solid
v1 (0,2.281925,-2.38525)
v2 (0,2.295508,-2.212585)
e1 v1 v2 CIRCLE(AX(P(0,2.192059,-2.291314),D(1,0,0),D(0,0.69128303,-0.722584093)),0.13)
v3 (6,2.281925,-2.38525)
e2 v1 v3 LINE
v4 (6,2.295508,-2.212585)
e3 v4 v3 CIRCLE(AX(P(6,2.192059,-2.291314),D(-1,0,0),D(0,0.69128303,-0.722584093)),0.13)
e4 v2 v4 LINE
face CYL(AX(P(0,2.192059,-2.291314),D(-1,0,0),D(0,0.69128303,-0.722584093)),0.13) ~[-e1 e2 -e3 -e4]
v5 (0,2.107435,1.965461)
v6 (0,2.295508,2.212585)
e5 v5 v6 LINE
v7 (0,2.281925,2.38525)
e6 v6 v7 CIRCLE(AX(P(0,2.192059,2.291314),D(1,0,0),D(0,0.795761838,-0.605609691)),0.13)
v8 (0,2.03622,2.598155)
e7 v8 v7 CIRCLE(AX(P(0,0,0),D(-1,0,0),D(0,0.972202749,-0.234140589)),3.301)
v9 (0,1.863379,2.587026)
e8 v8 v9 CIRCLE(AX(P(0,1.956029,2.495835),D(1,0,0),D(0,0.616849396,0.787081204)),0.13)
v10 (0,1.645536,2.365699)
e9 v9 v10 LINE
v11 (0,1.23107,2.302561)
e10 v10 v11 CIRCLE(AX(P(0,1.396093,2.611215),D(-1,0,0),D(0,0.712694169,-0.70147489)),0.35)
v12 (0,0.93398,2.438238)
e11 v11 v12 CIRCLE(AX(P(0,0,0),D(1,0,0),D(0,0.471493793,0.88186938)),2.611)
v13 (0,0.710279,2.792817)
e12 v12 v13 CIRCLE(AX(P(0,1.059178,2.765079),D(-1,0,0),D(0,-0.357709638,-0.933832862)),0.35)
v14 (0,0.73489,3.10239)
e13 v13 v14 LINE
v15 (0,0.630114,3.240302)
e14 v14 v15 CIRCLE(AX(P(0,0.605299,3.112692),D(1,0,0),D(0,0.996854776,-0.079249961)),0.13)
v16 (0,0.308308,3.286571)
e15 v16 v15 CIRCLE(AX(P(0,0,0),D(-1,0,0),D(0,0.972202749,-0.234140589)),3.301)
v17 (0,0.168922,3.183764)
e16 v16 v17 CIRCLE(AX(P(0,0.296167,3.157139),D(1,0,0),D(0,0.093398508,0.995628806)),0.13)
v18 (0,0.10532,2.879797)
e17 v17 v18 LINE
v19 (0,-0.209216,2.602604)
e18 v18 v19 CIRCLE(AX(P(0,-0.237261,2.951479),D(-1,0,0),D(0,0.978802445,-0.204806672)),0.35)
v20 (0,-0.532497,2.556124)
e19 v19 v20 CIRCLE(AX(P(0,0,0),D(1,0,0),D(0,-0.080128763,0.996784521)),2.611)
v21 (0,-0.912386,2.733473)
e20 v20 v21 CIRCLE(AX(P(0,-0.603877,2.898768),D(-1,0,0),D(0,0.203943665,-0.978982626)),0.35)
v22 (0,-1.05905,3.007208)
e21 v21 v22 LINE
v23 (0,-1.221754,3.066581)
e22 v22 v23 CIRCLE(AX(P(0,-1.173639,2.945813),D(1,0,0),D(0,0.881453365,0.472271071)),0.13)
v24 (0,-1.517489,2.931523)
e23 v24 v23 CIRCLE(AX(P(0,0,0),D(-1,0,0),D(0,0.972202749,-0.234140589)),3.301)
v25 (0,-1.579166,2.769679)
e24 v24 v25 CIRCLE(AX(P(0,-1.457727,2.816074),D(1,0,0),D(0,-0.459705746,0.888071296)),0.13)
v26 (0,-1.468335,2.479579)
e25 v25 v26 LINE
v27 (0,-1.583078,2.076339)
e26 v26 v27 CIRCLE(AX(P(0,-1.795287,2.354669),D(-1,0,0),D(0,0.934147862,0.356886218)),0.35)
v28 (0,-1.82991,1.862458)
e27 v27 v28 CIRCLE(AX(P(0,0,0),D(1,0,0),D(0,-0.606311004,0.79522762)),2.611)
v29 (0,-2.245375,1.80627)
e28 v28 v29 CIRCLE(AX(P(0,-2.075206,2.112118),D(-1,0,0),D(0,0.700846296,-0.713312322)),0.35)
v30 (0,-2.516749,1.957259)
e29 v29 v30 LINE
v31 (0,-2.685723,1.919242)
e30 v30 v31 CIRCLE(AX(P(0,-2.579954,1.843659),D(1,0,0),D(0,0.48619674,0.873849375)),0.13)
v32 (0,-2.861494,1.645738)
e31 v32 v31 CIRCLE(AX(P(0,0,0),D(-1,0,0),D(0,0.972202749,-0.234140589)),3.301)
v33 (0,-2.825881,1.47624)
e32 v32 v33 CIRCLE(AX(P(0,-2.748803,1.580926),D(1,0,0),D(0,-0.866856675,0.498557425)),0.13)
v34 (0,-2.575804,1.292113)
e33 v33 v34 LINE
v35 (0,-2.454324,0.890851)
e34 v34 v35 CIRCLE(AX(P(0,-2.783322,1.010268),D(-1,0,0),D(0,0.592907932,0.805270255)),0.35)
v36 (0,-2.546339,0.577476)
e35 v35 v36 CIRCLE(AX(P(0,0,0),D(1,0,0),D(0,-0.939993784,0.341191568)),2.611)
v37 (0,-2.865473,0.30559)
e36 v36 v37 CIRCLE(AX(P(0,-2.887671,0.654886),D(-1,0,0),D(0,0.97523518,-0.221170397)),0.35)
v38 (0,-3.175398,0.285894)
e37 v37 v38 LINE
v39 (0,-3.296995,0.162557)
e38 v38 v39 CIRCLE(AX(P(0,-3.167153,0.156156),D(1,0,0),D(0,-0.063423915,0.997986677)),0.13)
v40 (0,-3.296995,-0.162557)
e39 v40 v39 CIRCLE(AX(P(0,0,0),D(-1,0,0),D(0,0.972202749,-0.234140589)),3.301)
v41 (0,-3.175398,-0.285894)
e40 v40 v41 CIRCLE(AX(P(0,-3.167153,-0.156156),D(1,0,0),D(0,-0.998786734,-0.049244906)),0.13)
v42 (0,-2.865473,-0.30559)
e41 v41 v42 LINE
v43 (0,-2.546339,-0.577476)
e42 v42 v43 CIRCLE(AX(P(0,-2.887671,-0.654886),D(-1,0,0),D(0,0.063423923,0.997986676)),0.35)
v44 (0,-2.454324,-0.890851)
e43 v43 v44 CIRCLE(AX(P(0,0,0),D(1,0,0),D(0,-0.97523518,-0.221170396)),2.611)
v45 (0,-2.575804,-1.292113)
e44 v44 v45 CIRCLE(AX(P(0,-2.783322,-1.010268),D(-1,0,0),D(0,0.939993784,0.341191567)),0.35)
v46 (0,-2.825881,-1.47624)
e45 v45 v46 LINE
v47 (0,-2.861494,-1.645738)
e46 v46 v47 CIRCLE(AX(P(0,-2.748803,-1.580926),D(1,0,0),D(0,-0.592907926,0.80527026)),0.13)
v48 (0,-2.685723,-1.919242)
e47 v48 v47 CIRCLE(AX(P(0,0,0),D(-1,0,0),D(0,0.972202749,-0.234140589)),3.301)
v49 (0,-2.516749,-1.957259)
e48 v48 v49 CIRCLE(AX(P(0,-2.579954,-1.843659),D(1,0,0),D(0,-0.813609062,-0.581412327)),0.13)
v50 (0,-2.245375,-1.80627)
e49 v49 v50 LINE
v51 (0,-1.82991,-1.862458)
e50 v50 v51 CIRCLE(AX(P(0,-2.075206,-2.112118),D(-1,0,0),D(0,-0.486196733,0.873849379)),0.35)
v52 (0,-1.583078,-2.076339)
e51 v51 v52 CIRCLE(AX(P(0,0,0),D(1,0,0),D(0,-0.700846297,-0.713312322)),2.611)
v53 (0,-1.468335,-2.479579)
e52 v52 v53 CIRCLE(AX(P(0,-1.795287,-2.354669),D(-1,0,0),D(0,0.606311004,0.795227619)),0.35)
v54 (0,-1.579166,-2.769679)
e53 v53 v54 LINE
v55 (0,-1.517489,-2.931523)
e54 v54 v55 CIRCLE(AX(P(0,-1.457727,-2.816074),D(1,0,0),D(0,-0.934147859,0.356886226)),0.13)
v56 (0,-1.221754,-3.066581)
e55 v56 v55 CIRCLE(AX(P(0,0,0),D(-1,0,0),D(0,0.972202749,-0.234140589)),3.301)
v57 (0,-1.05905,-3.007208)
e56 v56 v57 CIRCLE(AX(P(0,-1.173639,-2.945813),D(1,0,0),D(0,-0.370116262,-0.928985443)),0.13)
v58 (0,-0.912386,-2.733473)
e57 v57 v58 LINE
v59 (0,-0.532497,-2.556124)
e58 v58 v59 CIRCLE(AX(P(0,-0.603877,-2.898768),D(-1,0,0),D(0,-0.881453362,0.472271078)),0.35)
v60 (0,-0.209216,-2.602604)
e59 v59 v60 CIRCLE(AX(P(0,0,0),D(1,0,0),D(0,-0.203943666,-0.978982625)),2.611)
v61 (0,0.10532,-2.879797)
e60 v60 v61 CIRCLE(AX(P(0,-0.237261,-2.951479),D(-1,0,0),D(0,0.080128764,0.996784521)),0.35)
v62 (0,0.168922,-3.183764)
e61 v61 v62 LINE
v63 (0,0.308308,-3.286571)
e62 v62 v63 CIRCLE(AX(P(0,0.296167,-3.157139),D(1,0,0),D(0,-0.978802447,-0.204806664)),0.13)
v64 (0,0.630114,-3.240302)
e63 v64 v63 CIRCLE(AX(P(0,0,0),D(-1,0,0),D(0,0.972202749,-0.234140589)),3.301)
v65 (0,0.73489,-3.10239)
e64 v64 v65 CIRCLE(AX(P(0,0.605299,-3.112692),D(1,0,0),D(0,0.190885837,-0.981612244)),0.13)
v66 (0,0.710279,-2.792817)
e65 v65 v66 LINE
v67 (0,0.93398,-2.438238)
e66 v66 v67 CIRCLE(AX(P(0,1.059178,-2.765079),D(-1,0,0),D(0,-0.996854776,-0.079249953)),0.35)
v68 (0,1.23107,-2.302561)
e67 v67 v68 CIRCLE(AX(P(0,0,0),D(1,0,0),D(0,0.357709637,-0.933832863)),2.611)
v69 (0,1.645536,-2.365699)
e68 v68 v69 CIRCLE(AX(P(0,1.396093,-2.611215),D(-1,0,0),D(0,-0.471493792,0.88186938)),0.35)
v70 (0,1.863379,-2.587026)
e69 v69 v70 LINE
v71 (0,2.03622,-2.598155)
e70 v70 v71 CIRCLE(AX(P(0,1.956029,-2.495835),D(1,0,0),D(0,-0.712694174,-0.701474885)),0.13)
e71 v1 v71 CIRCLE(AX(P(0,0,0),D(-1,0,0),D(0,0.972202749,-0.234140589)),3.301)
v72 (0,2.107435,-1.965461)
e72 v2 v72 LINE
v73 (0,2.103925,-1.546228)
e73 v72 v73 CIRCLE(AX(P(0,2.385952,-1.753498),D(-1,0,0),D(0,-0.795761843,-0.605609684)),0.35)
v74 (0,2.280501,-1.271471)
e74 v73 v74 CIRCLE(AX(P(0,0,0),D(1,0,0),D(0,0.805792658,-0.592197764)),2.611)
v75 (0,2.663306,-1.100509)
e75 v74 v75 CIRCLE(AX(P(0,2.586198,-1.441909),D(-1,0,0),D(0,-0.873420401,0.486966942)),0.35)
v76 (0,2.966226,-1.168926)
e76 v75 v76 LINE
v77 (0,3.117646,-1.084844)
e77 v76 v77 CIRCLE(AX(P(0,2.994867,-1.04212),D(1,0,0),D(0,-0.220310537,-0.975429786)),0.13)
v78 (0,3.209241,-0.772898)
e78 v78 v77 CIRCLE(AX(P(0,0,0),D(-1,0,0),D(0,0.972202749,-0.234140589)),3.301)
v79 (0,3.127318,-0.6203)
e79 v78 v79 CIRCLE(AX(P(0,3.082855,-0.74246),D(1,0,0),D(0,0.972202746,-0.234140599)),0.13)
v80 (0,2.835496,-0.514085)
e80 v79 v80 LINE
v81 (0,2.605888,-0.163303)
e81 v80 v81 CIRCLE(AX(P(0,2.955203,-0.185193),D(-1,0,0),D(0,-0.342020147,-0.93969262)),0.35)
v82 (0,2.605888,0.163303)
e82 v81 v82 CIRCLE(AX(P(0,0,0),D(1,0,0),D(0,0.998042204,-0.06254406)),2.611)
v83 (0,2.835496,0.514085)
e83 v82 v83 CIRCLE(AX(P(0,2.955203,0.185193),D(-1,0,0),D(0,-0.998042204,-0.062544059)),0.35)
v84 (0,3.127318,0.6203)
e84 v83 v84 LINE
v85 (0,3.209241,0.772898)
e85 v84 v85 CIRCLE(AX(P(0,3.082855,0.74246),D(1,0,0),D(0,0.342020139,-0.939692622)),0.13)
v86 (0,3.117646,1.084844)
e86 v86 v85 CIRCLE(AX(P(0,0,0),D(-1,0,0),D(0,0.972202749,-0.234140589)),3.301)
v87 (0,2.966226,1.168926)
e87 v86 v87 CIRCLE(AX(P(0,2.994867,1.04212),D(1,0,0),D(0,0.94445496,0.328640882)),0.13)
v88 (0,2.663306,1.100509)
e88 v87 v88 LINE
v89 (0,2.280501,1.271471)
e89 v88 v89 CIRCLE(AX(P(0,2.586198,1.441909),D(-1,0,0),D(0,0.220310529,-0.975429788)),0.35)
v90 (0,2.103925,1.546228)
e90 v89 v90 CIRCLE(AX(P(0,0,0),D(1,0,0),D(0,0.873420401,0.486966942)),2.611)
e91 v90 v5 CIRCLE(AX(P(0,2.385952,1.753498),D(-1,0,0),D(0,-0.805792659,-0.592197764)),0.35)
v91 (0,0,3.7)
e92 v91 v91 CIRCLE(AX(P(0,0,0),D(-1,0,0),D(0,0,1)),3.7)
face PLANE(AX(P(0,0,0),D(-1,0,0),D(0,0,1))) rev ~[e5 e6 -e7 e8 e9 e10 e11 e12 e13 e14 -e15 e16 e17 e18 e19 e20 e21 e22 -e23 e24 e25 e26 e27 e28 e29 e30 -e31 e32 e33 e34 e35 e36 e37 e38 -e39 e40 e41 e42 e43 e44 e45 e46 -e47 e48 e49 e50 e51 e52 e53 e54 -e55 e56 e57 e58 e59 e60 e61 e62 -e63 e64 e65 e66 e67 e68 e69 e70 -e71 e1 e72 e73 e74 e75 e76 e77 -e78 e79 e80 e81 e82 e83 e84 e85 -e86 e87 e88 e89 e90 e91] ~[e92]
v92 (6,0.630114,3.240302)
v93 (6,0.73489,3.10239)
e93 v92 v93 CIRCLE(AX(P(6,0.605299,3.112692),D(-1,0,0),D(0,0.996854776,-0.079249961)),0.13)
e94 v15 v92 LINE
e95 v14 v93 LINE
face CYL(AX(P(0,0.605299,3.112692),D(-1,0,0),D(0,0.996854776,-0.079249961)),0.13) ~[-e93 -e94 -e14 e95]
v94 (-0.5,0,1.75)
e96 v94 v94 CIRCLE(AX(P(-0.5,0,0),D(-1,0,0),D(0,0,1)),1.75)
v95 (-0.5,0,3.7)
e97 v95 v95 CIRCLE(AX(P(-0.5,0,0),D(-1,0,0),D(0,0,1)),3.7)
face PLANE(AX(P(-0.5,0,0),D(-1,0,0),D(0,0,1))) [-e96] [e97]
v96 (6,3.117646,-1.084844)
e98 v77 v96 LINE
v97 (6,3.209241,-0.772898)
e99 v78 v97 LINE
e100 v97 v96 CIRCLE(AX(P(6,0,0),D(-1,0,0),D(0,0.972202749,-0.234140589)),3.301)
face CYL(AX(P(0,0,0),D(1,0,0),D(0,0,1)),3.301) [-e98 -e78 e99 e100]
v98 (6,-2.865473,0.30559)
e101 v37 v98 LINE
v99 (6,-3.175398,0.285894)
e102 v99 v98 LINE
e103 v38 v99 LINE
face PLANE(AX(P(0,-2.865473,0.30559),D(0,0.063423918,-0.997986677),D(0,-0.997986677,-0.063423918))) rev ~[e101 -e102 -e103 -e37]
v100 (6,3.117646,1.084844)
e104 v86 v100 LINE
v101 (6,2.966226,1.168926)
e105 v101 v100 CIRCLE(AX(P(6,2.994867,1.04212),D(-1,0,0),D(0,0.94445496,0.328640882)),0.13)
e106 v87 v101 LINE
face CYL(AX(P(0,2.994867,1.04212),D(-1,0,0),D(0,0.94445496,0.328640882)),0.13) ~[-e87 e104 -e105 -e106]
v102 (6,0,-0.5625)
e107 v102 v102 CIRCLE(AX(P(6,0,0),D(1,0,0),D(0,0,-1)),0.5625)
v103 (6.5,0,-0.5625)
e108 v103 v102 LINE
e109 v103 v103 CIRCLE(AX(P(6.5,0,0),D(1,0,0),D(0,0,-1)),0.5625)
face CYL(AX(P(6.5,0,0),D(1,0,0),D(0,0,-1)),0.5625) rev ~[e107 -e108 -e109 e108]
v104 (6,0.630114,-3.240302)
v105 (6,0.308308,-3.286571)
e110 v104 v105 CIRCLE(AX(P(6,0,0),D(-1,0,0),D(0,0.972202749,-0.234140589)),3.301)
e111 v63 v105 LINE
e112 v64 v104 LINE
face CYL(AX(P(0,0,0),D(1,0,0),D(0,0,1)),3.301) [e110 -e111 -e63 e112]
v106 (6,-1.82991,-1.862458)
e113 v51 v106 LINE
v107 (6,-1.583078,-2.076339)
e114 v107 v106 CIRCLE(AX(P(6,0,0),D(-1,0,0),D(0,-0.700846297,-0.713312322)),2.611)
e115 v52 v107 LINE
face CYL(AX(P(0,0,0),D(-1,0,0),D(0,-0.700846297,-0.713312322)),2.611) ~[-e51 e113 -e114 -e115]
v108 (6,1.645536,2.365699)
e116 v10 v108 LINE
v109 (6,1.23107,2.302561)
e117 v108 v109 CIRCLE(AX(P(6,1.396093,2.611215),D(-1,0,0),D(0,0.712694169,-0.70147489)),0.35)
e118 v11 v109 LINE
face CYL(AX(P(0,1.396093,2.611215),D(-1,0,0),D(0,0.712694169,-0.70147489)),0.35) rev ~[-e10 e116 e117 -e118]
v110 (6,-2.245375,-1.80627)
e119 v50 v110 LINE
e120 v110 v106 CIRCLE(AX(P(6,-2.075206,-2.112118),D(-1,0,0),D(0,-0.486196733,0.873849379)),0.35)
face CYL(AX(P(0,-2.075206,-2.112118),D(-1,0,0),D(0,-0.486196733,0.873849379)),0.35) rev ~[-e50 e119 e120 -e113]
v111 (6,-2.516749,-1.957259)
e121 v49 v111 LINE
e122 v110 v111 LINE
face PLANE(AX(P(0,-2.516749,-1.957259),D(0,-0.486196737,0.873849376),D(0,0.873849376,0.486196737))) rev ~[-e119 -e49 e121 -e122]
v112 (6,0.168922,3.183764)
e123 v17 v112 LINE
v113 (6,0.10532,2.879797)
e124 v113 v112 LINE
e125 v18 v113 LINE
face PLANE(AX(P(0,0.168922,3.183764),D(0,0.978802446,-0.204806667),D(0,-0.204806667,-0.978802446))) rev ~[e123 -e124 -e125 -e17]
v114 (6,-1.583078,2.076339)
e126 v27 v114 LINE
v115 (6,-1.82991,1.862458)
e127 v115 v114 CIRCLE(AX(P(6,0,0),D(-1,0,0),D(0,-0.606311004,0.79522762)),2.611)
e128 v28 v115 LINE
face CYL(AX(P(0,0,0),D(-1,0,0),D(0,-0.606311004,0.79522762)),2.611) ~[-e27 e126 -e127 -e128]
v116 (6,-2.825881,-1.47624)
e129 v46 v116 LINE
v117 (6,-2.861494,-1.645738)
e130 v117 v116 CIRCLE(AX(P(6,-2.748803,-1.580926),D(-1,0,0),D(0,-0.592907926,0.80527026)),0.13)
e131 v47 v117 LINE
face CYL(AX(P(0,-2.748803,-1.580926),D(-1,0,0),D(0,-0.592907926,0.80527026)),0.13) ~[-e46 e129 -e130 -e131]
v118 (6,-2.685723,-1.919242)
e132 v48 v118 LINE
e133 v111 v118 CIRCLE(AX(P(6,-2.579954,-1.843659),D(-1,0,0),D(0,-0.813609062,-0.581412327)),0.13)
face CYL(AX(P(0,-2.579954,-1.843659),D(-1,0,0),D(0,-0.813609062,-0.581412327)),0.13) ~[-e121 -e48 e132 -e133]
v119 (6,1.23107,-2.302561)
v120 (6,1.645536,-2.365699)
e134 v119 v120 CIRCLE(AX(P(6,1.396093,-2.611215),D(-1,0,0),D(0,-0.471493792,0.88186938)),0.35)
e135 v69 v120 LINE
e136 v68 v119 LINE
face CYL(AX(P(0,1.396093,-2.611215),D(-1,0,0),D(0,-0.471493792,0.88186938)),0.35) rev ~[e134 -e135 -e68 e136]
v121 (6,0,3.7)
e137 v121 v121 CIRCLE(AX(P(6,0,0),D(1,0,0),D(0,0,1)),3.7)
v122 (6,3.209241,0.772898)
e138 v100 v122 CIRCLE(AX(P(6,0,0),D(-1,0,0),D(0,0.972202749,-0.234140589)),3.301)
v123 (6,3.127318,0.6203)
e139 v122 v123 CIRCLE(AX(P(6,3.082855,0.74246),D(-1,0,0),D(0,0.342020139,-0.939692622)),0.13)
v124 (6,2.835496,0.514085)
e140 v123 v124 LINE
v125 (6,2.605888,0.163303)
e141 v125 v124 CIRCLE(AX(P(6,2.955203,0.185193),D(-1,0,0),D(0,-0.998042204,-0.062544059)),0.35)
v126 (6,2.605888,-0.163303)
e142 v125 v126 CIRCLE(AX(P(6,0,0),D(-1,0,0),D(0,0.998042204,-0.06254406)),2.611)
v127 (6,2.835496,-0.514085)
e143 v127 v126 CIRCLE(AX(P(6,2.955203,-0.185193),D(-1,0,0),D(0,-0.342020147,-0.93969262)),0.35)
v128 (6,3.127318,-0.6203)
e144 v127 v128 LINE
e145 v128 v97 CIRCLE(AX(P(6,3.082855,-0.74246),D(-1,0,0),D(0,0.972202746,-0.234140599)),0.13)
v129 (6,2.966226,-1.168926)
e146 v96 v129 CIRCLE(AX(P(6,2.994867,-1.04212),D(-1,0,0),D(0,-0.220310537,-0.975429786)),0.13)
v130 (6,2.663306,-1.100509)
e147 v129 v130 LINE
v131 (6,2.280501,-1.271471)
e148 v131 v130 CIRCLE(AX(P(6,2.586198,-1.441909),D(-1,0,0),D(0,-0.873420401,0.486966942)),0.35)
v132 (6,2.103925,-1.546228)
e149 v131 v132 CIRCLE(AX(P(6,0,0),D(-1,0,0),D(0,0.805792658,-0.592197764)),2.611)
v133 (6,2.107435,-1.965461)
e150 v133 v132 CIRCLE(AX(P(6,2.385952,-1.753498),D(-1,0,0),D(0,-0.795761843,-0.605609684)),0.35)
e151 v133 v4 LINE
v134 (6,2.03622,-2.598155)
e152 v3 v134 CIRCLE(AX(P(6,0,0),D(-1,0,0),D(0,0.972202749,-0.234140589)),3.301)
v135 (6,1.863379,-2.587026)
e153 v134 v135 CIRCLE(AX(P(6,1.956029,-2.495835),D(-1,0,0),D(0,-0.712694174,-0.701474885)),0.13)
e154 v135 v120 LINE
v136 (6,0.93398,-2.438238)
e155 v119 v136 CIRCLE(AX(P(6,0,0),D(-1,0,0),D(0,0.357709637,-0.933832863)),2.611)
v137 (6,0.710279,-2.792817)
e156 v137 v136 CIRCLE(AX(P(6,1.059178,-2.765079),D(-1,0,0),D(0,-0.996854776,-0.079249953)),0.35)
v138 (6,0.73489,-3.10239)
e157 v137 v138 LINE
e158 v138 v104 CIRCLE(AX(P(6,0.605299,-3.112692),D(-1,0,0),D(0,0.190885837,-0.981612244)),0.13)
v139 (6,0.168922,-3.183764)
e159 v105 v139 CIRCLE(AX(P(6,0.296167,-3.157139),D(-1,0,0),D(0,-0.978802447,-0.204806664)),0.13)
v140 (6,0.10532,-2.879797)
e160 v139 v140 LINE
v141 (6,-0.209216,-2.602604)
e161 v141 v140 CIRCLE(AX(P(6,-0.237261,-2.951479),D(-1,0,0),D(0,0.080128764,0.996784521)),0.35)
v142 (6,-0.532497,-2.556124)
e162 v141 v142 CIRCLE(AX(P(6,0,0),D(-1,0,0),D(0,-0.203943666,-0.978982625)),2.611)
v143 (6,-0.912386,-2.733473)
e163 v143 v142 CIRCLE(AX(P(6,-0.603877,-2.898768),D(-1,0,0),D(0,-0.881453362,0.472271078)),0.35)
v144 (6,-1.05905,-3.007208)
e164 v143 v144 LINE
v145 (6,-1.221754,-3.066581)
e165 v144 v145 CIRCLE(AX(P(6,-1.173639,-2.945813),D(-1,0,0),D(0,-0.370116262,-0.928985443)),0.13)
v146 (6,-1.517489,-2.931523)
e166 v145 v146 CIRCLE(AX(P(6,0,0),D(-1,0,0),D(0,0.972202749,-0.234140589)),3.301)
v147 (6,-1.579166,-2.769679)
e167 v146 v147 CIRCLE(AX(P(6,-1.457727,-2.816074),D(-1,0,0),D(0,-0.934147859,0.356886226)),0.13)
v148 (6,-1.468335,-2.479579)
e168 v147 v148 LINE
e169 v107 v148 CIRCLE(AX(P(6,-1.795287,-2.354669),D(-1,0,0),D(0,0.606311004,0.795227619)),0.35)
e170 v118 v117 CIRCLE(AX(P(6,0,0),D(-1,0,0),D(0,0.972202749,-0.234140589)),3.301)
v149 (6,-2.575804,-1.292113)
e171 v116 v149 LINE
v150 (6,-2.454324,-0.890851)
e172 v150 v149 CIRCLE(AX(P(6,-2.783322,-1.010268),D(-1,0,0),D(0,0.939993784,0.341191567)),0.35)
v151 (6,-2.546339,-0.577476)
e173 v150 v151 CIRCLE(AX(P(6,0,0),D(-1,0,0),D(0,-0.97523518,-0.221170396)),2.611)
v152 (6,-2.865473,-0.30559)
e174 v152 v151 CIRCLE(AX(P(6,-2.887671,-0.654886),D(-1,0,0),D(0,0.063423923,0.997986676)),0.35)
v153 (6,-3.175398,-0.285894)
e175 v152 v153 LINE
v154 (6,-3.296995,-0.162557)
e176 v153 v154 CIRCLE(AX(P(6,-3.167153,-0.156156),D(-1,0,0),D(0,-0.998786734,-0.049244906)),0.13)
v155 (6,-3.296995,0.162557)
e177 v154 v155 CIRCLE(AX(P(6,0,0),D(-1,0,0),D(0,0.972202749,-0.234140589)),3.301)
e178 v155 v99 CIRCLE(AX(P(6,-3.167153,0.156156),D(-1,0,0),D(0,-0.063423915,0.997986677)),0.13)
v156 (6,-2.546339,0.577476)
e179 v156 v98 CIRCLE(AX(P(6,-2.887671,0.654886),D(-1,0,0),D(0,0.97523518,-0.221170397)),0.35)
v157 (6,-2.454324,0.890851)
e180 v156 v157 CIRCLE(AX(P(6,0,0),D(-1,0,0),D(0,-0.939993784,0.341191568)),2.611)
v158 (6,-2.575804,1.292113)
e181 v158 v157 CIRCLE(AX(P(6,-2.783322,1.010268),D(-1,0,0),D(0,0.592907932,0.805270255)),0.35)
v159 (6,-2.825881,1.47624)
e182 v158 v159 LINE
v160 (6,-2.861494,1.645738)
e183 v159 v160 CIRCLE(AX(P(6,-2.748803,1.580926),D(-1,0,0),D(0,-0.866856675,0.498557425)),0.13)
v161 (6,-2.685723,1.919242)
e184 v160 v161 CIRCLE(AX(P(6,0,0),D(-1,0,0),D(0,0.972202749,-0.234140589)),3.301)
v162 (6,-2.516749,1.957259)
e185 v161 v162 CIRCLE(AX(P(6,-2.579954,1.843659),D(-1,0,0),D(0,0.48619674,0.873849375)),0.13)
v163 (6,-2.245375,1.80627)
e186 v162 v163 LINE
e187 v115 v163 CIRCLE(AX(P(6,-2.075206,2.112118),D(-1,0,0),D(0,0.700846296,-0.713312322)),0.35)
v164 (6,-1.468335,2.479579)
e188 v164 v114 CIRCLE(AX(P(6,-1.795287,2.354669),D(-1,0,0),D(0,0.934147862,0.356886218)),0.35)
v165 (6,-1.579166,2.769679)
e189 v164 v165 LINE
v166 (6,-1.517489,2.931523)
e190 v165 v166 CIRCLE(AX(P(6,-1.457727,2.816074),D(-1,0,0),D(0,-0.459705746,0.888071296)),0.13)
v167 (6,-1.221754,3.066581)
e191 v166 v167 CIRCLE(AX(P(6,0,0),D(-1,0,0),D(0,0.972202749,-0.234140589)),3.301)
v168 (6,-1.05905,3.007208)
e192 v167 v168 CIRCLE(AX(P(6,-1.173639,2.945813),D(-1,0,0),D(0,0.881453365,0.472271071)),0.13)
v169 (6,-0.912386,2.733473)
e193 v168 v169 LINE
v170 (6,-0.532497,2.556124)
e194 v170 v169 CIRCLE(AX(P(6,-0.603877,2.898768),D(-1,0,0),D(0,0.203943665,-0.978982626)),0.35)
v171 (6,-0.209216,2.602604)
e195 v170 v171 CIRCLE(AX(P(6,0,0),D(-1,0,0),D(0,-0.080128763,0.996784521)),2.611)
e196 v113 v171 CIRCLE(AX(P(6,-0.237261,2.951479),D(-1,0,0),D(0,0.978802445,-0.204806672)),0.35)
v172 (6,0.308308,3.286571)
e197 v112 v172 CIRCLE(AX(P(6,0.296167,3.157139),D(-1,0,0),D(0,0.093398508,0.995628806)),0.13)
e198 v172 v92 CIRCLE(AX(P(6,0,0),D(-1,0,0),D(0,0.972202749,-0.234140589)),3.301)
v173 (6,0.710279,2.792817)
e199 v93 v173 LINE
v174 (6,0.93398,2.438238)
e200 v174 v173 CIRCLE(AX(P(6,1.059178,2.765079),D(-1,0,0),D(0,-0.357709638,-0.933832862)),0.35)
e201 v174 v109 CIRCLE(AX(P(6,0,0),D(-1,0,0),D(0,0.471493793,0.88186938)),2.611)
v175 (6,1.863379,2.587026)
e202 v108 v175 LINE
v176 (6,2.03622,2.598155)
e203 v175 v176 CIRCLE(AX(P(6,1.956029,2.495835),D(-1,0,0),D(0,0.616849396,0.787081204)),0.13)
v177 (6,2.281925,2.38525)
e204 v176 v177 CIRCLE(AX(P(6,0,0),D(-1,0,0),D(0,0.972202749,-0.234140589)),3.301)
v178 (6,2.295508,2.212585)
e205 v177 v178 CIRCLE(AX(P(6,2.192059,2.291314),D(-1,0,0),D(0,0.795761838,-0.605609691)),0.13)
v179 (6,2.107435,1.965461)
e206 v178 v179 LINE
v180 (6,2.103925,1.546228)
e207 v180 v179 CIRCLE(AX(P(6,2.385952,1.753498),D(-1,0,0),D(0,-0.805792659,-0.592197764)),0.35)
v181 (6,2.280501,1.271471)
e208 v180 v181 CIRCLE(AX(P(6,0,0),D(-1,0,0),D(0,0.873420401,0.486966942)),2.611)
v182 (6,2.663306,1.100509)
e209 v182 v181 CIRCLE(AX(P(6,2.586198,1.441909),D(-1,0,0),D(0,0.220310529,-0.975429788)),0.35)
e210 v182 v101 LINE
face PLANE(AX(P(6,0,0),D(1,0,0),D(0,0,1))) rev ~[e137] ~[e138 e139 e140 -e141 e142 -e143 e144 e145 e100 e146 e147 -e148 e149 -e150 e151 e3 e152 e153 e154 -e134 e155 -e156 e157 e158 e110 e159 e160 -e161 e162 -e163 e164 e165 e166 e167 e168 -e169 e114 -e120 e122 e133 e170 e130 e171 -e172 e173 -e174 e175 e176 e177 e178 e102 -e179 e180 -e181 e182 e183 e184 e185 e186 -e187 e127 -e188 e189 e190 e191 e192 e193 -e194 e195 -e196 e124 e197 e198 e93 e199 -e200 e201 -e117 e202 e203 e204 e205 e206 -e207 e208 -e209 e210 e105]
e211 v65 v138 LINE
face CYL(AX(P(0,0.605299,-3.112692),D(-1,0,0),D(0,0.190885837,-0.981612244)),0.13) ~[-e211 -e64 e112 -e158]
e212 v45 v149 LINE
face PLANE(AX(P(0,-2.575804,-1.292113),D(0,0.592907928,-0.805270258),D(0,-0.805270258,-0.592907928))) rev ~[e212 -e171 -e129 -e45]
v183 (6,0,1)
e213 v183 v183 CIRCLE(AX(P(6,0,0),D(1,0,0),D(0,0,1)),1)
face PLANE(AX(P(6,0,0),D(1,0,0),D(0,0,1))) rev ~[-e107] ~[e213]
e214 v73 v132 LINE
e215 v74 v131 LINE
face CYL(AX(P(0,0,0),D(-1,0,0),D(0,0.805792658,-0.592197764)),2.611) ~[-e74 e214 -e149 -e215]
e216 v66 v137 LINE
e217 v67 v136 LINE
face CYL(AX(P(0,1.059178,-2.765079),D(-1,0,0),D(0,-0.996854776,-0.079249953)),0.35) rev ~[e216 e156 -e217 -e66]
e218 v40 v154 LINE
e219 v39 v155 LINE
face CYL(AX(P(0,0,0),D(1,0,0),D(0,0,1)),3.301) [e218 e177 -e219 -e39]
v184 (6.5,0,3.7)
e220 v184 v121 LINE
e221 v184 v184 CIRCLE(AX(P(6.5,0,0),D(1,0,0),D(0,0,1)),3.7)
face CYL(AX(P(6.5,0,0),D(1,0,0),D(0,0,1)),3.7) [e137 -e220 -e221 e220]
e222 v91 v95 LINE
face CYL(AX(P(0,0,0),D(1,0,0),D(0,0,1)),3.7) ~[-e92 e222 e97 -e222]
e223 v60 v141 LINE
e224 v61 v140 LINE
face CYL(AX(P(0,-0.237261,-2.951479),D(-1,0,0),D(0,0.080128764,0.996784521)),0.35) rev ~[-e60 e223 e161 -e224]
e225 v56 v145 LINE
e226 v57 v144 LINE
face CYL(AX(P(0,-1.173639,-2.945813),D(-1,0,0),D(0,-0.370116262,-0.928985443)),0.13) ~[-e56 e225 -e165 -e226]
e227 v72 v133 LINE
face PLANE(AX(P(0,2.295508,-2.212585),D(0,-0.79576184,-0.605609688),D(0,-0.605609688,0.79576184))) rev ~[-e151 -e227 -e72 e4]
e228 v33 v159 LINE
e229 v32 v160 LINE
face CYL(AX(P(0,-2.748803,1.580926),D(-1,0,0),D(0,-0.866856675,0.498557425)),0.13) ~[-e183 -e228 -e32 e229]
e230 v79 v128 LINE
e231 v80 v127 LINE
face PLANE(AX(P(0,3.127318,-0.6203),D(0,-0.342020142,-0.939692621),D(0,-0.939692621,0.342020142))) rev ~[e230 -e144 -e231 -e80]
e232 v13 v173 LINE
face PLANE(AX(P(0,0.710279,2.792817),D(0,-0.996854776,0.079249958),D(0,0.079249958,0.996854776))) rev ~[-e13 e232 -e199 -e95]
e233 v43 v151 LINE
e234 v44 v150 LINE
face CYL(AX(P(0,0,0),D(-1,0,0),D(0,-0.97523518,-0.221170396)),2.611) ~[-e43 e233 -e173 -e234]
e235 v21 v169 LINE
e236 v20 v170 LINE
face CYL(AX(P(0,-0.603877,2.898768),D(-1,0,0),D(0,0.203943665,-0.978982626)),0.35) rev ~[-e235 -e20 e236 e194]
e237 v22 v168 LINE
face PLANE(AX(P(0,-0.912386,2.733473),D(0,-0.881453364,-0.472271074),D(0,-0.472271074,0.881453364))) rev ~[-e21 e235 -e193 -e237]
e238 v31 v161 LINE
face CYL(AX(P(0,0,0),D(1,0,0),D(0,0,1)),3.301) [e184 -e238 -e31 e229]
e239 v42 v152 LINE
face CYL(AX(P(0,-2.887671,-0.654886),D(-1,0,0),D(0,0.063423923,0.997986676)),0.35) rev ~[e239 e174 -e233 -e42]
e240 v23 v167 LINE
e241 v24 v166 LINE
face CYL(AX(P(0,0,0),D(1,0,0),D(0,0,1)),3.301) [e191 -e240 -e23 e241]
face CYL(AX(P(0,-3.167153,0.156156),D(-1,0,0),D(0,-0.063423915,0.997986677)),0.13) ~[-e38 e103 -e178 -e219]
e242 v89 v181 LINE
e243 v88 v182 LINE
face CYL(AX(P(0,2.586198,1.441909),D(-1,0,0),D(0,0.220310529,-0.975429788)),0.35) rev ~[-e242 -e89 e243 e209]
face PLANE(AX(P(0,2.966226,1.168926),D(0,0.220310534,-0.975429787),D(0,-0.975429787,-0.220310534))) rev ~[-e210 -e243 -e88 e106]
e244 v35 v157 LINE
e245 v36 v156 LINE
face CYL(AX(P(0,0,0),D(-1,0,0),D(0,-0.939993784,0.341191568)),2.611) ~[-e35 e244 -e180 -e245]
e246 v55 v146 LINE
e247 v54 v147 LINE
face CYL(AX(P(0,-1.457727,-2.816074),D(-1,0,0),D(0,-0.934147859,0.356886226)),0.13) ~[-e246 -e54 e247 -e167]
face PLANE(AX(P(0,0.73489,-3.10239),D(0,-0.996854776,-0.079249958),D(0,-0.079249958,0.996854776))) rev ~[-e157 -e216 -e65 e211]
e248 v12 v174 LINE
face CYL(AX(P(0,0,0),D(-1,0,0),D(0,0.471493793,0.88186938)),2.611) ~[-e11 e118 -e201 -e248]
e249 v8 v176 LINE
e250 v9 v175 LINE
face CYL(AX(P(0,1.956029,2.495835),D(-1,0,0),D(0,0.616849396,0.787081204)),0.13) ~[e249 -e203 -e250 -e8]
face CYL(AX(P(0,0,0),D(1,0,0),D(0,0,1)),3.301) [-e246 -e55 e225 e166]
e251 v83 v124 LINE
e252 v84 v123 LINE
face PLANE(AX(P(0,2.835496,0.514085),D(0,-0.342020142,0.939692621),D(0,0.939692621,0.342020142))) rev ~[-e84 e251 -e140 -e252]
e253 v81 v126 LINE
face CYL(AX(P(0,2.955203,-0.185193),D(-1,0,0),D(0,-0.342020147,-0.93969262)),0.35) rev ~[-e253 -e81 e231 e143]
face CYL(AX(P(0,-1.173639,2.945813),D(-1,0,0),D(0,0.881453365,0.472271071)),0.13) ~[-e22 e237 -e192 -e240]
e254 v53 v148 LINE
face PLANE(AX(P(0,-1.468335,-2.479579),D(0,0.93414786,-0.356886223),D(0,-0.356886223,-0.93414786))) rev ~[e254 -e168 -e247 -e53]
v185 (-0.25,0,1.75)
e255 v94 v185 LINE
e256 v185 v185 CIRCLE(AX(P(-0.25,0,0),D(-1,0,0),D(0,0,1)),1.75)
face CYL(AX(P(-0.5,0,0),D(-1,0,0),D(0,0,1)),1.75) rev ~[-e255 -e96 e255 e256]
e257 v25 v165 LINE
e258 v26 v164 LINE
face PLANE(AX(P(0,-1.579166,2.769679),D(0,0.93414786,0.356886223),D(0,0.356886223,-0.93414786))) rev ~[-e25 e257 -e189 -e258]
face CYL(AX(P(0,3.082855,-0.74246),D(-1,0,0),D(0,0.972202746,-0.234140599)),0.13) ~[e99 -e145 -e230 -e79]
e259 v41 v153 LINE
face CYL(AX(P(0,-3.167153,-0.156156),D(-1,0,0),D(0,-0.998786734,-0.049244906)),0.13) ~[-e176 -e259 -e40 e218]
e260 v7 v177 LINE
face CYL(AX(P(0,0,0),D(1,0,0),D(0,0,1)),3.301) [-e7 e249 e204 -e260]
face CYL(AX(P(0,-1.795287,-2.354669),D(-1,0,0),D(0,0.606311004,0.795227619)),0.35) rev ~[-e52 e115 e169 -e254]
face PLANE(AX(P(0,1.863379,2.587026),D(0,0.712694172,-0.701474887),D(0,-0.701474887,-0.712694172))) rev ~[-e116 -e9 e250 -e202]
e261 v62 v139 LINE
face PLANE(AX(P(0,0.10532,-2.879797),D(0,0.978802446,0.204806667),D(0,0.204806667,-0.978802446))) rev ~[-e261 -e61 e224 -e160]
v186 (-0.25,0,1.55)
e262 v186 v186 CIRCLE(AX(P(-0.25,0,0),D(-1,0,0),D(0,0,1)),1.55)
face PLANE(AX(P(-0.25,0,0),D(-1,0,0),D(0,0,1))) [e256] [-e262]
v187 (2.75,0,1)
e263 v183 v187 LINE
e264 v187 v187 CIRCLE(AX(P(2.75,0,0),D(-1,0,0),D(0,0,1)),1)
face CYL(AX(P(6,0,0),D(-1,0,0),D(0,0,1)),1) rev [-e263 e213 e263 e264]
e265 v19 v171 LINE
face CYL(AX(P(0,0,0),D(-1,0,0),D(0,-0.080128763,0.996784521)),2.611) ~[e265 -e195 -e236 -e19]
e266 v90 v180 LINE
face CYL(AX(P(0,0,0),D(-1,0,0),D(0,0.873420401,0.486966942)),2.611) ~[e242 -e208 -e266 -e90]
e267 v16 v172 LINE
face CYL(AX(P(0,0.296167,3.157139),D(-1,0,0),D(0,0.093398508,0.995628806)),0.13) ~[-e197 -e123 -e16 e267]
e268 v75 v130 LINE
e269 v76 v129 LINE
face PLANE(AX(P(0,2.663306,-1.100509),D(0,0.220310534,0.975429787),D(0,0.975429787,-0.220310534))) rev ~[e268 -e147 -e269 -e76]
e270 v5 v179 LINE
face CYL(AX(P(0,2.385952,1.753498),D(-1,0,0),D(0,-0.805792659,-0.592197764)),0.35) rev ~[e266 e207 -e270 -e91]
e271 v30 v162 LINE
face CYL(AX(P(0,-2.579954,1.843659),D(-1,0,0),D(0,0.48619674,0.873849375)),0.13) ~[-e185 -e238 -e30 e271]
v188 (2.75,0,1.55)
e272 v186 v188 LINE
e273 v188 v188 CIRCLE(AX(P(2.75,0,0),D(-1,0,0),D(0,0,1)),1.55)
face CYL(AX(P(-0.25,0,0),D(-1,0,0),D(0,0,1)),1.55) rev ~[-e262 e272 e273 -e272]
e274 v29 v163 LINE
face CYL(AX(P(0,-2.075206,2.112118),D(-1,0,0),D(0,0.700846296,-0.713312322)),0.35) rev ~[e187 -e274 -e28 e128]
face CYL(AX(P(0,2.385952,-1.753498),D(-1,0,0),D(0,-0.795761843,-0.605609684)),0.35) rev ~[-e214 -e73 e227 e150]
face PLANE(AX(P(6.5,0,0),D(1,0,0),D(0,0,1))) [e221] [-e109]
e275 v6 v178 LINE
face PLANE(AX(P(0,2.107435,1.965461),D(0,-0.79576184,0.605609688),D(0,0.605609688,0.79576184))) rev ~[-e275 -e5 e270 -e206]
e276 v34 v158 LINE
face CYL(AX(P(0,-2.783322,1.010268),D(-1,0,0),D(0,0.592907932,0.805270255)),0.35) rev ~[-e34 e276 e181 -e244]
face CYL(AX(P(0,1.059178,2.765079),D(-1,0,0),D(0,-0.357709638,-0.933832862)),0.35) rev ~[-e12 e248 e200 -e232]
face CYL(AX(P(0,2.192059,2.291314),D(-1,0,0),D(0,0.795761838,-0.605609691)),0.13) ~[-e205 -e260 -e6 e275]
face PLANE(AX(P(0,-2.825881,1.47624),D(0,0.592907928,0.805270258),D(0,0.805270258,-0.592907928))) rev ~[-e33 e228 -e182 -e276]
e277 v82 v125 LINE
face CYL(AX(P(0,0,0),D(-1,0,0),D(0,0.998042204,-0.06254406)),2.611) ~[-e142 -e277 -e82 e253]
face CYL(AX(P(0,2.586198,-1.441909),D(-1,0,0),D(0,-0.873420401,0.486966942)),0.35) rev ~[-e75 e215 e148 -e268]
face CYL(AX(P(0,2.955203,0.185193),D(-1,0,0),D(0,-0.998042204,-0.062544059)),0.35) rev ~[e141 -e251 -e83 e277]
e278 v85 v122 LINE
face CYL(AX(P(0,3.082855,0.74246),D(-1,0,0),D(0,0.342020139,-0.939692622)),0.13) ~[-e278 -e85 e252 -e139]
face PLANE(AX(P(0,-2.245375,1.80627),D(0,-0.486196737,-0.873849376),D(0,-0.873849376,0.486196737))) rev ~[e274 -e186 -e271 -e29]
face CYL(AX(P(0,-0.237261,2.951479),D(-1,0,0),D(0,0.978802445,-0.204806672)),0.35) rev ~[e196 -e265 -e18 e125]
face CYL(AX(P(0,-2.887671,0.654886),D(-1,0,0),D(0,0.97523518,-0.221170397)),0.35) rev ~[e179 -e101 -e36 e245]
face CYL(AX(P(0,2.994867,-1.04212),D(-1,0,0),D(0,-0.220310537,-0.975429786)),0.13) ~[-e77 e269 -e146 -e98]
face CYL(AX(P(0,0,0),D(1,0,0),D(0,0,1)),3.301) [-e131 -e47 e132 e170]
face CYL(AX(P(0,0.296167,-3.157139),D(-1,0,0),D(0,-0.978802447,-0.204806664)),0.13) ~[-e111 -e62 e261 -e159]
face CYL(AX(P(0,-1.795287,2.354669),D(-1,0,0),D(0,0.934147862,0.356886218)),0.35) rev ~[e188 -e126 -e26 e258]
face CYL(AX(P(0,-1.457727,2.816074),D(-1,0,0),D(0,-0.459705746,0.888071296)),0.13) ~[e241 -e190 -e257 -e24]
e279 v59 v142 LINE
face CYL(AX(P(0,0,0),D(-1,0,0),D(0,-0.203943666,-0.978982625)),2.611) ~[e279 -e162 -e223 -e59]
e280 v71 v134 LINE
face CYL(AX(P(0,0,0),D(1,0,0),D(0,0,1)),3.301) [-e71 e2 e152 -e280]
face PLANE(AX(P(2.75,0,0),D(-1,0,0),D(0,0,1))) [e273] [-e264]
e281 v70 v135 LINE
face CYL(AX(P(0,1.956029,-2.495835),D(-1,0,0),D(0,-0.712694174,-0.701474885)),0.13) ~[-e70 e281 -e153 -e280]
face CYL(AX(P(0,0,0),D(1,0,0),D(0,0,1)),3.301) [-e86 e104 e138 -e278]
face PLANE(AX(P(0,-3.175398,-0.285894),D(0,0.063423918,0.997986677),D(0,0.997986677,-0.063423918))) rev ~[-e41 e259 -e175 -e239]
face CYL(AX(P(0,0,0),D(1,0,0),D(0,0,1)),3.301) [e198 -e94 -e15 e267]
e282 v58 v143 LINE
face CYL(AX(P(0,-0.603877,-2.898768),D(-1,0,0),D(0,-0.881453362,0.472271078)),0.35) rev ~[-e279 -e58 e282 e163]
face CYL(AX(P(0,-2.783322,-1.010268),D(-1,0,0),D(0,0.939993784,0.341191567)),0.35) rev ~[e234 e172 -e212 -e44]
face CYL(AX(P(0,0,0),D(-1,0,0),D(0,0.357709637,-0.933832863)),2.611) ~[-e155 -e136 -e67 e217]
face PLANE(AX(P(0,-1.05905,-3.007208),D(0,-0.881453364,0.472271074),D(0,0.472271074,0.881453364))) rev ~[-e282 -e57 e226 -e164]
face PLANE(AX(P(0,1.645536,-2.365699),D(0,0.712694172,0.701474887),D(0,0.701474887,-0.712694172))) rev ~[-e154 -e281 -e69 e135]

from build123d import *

# Parameters (mm, degrees)
CUT_EXTRUDE_2_REACH      = 9.602
PATTERN_CIRCULAR_3_COUNT = 11
SKETCH_7_R               = 3.7
EXTRUDE_1_DEPTH          = 0.5
SKETCH_8_R               = 1.75
CUT_EXTRUDE_3_DEPTH      = 0.25
EXTRUDE_START            = 0.5
SKETCH_9_R               = 3.7
EXTRUDE_2_DEPTH          = 0.5
SKETCH_11_R              = 1.55
CUT_EXTRUDE_5_DEPTH      = 3
SKETCH_13_R              = 0.5625
CUT_EXTRUDE_7_DEPTH      = 9.739565207


with BuildPart() as part:
    # 草图1 → 旋转1 (revolve)
    with BuildSketch(Plane.XY):
        Polygon((0, 1), (0, 3.301), (6, 3.301), (6, 2.2264), (6, 1), align=None)
    revolve(axis=Axis((0, 0, 0), (1, 0, 0)))

    # 草图6 → 切除-拉伸2 (cut, up to next)
    with BuildSketch(Plane(origin=(0, 0, 0), x_dir=(0, 0, -1), z_dir=(1, 0, 0)), mode=Mode.PRIVATE) as cut_extrude_2_sk1:
        with BuildLine():
            Line((0.620299767, 3.127317535), (0.514085384, 2.835495915))
            ThreePointArc((0.514085384, 2.835495915), (0.376876254, 2.662359121), (0.163302545, 2.605888194))
            ThreePointArc((0.163302545, 2.605888194), (0, 2.611), (-0.163302545, 2.605888194))
            ThreePointArc((-0.163302545, 2.605888194), (-0.376876254, 2.662359121), (-0.514085384, 2.835495915))
            Line((-0.514085384, 2.835495915), (-0.620299767, 3.127317535))
            ThreePointArc((-0.620299767, 3.127317535), (-0.680969197, 3.197392704), (-0.772898084, 3.209241273))
            ThreePointArc((-0.772898084, 3.209241273), (-0.835941408, 3.193399906), (-0.898660577, 3.176320224))
            Line((-0.898660577, 3.176320224), (-1.396756451, 4.544827391))
            ThreePointArc((-1.396756451, 4.544827391), (0, 4.754617188), (1.396756451, 4.544827391))
            Line((1.396756451, 4.544827391), (0.898660577, 3.176320224))
            ThreePointArc((0.898660577, 3.176320224), (0.835941408, 3.193399906), (0.772898084, 3.209241273))
            ThreePointArc((0.772898084, 3.209241273), (0.680969197, 3.197392704), (0.620299767, 3.127317535))
        make_face()
    cut_extrude_2_tool1 = extrude(cut_extrude_2_sk1.sketch, amount=CUT_EXTRUDE_2_REACH, mode=Mode.PRIVATE) & part.part
    cut_extrude_2 = cut_extrude_2_tool1.solids().sort_by_distance((0, 3.839085, 0))[0]
    add(cut_extrude_2, mode=Mode.SUBTRACT)

    # 阵列(圆周)3: 切除-拉伸2 ×11 about axis
    pattern_circular_3_axis = Axis((-72.503953235, 0, 0), (1, 0, 0))
    for i in range(1, PATTERN_CIRCULAR_3_COUNT):
        add(cut_extrude_2.rotate(pattern_circular_3_axis, i * 360 / PATTERN_CIRCULAR_3_COUNT), mode=Mode.SUBTRACT)

    # 草图7 → 凸台-拉伸1 (add)
    with BuildSketch(Plane.ZY):
        Circle(SKETCH_7_R)
    extrude(amount=EXTRUDE_1_DEPTH)

    # 草图8 → 切除-拉伸3 (cut)
    with BuildSketch(Plane.ZY.offset(0.5)):
        Circle(SKETCH_8_R)
    extrude(amount=-CUT_EXTRUDE_3_DEPTH, mode=Mode.SUBTRACT)

    # 草图9 → 凸台-拉伸2 (add)
    with BuildSketch(Plane(origin=(6, 0, 0), x_dir=(0, 0, -1), z_dir=(1, 0, 0)).offset(EXTRUDE_START)):
        Circle(SKETCH_9_R)
    extrude(amount=-EXTRUDE_2_DEPTH)

    # 草图11 → 切除-拉伸5 (cut)
    with BuildSketch(Plane.ZY.offset(0.25)):
        Circle(SKETCH_11_R)
    extrude(amount=-CUT_EXTRUDE_5_DEPTH, mode=Mode.SUBTRACT)

    # 草图13 → 切除-拉伸7 (cut, through all)
    with BuildSketch(Plane(origin=(6.5, 0, 0), x_dir=(0, 0, -1), z_dir=(1, 0, 0))):
        Circle(SKETCH_13_R)
    extrude(amount=-CUT_EXTRUDE_7_DEPTH, mode=Mode.SUBTRACT)


solid = part.part
